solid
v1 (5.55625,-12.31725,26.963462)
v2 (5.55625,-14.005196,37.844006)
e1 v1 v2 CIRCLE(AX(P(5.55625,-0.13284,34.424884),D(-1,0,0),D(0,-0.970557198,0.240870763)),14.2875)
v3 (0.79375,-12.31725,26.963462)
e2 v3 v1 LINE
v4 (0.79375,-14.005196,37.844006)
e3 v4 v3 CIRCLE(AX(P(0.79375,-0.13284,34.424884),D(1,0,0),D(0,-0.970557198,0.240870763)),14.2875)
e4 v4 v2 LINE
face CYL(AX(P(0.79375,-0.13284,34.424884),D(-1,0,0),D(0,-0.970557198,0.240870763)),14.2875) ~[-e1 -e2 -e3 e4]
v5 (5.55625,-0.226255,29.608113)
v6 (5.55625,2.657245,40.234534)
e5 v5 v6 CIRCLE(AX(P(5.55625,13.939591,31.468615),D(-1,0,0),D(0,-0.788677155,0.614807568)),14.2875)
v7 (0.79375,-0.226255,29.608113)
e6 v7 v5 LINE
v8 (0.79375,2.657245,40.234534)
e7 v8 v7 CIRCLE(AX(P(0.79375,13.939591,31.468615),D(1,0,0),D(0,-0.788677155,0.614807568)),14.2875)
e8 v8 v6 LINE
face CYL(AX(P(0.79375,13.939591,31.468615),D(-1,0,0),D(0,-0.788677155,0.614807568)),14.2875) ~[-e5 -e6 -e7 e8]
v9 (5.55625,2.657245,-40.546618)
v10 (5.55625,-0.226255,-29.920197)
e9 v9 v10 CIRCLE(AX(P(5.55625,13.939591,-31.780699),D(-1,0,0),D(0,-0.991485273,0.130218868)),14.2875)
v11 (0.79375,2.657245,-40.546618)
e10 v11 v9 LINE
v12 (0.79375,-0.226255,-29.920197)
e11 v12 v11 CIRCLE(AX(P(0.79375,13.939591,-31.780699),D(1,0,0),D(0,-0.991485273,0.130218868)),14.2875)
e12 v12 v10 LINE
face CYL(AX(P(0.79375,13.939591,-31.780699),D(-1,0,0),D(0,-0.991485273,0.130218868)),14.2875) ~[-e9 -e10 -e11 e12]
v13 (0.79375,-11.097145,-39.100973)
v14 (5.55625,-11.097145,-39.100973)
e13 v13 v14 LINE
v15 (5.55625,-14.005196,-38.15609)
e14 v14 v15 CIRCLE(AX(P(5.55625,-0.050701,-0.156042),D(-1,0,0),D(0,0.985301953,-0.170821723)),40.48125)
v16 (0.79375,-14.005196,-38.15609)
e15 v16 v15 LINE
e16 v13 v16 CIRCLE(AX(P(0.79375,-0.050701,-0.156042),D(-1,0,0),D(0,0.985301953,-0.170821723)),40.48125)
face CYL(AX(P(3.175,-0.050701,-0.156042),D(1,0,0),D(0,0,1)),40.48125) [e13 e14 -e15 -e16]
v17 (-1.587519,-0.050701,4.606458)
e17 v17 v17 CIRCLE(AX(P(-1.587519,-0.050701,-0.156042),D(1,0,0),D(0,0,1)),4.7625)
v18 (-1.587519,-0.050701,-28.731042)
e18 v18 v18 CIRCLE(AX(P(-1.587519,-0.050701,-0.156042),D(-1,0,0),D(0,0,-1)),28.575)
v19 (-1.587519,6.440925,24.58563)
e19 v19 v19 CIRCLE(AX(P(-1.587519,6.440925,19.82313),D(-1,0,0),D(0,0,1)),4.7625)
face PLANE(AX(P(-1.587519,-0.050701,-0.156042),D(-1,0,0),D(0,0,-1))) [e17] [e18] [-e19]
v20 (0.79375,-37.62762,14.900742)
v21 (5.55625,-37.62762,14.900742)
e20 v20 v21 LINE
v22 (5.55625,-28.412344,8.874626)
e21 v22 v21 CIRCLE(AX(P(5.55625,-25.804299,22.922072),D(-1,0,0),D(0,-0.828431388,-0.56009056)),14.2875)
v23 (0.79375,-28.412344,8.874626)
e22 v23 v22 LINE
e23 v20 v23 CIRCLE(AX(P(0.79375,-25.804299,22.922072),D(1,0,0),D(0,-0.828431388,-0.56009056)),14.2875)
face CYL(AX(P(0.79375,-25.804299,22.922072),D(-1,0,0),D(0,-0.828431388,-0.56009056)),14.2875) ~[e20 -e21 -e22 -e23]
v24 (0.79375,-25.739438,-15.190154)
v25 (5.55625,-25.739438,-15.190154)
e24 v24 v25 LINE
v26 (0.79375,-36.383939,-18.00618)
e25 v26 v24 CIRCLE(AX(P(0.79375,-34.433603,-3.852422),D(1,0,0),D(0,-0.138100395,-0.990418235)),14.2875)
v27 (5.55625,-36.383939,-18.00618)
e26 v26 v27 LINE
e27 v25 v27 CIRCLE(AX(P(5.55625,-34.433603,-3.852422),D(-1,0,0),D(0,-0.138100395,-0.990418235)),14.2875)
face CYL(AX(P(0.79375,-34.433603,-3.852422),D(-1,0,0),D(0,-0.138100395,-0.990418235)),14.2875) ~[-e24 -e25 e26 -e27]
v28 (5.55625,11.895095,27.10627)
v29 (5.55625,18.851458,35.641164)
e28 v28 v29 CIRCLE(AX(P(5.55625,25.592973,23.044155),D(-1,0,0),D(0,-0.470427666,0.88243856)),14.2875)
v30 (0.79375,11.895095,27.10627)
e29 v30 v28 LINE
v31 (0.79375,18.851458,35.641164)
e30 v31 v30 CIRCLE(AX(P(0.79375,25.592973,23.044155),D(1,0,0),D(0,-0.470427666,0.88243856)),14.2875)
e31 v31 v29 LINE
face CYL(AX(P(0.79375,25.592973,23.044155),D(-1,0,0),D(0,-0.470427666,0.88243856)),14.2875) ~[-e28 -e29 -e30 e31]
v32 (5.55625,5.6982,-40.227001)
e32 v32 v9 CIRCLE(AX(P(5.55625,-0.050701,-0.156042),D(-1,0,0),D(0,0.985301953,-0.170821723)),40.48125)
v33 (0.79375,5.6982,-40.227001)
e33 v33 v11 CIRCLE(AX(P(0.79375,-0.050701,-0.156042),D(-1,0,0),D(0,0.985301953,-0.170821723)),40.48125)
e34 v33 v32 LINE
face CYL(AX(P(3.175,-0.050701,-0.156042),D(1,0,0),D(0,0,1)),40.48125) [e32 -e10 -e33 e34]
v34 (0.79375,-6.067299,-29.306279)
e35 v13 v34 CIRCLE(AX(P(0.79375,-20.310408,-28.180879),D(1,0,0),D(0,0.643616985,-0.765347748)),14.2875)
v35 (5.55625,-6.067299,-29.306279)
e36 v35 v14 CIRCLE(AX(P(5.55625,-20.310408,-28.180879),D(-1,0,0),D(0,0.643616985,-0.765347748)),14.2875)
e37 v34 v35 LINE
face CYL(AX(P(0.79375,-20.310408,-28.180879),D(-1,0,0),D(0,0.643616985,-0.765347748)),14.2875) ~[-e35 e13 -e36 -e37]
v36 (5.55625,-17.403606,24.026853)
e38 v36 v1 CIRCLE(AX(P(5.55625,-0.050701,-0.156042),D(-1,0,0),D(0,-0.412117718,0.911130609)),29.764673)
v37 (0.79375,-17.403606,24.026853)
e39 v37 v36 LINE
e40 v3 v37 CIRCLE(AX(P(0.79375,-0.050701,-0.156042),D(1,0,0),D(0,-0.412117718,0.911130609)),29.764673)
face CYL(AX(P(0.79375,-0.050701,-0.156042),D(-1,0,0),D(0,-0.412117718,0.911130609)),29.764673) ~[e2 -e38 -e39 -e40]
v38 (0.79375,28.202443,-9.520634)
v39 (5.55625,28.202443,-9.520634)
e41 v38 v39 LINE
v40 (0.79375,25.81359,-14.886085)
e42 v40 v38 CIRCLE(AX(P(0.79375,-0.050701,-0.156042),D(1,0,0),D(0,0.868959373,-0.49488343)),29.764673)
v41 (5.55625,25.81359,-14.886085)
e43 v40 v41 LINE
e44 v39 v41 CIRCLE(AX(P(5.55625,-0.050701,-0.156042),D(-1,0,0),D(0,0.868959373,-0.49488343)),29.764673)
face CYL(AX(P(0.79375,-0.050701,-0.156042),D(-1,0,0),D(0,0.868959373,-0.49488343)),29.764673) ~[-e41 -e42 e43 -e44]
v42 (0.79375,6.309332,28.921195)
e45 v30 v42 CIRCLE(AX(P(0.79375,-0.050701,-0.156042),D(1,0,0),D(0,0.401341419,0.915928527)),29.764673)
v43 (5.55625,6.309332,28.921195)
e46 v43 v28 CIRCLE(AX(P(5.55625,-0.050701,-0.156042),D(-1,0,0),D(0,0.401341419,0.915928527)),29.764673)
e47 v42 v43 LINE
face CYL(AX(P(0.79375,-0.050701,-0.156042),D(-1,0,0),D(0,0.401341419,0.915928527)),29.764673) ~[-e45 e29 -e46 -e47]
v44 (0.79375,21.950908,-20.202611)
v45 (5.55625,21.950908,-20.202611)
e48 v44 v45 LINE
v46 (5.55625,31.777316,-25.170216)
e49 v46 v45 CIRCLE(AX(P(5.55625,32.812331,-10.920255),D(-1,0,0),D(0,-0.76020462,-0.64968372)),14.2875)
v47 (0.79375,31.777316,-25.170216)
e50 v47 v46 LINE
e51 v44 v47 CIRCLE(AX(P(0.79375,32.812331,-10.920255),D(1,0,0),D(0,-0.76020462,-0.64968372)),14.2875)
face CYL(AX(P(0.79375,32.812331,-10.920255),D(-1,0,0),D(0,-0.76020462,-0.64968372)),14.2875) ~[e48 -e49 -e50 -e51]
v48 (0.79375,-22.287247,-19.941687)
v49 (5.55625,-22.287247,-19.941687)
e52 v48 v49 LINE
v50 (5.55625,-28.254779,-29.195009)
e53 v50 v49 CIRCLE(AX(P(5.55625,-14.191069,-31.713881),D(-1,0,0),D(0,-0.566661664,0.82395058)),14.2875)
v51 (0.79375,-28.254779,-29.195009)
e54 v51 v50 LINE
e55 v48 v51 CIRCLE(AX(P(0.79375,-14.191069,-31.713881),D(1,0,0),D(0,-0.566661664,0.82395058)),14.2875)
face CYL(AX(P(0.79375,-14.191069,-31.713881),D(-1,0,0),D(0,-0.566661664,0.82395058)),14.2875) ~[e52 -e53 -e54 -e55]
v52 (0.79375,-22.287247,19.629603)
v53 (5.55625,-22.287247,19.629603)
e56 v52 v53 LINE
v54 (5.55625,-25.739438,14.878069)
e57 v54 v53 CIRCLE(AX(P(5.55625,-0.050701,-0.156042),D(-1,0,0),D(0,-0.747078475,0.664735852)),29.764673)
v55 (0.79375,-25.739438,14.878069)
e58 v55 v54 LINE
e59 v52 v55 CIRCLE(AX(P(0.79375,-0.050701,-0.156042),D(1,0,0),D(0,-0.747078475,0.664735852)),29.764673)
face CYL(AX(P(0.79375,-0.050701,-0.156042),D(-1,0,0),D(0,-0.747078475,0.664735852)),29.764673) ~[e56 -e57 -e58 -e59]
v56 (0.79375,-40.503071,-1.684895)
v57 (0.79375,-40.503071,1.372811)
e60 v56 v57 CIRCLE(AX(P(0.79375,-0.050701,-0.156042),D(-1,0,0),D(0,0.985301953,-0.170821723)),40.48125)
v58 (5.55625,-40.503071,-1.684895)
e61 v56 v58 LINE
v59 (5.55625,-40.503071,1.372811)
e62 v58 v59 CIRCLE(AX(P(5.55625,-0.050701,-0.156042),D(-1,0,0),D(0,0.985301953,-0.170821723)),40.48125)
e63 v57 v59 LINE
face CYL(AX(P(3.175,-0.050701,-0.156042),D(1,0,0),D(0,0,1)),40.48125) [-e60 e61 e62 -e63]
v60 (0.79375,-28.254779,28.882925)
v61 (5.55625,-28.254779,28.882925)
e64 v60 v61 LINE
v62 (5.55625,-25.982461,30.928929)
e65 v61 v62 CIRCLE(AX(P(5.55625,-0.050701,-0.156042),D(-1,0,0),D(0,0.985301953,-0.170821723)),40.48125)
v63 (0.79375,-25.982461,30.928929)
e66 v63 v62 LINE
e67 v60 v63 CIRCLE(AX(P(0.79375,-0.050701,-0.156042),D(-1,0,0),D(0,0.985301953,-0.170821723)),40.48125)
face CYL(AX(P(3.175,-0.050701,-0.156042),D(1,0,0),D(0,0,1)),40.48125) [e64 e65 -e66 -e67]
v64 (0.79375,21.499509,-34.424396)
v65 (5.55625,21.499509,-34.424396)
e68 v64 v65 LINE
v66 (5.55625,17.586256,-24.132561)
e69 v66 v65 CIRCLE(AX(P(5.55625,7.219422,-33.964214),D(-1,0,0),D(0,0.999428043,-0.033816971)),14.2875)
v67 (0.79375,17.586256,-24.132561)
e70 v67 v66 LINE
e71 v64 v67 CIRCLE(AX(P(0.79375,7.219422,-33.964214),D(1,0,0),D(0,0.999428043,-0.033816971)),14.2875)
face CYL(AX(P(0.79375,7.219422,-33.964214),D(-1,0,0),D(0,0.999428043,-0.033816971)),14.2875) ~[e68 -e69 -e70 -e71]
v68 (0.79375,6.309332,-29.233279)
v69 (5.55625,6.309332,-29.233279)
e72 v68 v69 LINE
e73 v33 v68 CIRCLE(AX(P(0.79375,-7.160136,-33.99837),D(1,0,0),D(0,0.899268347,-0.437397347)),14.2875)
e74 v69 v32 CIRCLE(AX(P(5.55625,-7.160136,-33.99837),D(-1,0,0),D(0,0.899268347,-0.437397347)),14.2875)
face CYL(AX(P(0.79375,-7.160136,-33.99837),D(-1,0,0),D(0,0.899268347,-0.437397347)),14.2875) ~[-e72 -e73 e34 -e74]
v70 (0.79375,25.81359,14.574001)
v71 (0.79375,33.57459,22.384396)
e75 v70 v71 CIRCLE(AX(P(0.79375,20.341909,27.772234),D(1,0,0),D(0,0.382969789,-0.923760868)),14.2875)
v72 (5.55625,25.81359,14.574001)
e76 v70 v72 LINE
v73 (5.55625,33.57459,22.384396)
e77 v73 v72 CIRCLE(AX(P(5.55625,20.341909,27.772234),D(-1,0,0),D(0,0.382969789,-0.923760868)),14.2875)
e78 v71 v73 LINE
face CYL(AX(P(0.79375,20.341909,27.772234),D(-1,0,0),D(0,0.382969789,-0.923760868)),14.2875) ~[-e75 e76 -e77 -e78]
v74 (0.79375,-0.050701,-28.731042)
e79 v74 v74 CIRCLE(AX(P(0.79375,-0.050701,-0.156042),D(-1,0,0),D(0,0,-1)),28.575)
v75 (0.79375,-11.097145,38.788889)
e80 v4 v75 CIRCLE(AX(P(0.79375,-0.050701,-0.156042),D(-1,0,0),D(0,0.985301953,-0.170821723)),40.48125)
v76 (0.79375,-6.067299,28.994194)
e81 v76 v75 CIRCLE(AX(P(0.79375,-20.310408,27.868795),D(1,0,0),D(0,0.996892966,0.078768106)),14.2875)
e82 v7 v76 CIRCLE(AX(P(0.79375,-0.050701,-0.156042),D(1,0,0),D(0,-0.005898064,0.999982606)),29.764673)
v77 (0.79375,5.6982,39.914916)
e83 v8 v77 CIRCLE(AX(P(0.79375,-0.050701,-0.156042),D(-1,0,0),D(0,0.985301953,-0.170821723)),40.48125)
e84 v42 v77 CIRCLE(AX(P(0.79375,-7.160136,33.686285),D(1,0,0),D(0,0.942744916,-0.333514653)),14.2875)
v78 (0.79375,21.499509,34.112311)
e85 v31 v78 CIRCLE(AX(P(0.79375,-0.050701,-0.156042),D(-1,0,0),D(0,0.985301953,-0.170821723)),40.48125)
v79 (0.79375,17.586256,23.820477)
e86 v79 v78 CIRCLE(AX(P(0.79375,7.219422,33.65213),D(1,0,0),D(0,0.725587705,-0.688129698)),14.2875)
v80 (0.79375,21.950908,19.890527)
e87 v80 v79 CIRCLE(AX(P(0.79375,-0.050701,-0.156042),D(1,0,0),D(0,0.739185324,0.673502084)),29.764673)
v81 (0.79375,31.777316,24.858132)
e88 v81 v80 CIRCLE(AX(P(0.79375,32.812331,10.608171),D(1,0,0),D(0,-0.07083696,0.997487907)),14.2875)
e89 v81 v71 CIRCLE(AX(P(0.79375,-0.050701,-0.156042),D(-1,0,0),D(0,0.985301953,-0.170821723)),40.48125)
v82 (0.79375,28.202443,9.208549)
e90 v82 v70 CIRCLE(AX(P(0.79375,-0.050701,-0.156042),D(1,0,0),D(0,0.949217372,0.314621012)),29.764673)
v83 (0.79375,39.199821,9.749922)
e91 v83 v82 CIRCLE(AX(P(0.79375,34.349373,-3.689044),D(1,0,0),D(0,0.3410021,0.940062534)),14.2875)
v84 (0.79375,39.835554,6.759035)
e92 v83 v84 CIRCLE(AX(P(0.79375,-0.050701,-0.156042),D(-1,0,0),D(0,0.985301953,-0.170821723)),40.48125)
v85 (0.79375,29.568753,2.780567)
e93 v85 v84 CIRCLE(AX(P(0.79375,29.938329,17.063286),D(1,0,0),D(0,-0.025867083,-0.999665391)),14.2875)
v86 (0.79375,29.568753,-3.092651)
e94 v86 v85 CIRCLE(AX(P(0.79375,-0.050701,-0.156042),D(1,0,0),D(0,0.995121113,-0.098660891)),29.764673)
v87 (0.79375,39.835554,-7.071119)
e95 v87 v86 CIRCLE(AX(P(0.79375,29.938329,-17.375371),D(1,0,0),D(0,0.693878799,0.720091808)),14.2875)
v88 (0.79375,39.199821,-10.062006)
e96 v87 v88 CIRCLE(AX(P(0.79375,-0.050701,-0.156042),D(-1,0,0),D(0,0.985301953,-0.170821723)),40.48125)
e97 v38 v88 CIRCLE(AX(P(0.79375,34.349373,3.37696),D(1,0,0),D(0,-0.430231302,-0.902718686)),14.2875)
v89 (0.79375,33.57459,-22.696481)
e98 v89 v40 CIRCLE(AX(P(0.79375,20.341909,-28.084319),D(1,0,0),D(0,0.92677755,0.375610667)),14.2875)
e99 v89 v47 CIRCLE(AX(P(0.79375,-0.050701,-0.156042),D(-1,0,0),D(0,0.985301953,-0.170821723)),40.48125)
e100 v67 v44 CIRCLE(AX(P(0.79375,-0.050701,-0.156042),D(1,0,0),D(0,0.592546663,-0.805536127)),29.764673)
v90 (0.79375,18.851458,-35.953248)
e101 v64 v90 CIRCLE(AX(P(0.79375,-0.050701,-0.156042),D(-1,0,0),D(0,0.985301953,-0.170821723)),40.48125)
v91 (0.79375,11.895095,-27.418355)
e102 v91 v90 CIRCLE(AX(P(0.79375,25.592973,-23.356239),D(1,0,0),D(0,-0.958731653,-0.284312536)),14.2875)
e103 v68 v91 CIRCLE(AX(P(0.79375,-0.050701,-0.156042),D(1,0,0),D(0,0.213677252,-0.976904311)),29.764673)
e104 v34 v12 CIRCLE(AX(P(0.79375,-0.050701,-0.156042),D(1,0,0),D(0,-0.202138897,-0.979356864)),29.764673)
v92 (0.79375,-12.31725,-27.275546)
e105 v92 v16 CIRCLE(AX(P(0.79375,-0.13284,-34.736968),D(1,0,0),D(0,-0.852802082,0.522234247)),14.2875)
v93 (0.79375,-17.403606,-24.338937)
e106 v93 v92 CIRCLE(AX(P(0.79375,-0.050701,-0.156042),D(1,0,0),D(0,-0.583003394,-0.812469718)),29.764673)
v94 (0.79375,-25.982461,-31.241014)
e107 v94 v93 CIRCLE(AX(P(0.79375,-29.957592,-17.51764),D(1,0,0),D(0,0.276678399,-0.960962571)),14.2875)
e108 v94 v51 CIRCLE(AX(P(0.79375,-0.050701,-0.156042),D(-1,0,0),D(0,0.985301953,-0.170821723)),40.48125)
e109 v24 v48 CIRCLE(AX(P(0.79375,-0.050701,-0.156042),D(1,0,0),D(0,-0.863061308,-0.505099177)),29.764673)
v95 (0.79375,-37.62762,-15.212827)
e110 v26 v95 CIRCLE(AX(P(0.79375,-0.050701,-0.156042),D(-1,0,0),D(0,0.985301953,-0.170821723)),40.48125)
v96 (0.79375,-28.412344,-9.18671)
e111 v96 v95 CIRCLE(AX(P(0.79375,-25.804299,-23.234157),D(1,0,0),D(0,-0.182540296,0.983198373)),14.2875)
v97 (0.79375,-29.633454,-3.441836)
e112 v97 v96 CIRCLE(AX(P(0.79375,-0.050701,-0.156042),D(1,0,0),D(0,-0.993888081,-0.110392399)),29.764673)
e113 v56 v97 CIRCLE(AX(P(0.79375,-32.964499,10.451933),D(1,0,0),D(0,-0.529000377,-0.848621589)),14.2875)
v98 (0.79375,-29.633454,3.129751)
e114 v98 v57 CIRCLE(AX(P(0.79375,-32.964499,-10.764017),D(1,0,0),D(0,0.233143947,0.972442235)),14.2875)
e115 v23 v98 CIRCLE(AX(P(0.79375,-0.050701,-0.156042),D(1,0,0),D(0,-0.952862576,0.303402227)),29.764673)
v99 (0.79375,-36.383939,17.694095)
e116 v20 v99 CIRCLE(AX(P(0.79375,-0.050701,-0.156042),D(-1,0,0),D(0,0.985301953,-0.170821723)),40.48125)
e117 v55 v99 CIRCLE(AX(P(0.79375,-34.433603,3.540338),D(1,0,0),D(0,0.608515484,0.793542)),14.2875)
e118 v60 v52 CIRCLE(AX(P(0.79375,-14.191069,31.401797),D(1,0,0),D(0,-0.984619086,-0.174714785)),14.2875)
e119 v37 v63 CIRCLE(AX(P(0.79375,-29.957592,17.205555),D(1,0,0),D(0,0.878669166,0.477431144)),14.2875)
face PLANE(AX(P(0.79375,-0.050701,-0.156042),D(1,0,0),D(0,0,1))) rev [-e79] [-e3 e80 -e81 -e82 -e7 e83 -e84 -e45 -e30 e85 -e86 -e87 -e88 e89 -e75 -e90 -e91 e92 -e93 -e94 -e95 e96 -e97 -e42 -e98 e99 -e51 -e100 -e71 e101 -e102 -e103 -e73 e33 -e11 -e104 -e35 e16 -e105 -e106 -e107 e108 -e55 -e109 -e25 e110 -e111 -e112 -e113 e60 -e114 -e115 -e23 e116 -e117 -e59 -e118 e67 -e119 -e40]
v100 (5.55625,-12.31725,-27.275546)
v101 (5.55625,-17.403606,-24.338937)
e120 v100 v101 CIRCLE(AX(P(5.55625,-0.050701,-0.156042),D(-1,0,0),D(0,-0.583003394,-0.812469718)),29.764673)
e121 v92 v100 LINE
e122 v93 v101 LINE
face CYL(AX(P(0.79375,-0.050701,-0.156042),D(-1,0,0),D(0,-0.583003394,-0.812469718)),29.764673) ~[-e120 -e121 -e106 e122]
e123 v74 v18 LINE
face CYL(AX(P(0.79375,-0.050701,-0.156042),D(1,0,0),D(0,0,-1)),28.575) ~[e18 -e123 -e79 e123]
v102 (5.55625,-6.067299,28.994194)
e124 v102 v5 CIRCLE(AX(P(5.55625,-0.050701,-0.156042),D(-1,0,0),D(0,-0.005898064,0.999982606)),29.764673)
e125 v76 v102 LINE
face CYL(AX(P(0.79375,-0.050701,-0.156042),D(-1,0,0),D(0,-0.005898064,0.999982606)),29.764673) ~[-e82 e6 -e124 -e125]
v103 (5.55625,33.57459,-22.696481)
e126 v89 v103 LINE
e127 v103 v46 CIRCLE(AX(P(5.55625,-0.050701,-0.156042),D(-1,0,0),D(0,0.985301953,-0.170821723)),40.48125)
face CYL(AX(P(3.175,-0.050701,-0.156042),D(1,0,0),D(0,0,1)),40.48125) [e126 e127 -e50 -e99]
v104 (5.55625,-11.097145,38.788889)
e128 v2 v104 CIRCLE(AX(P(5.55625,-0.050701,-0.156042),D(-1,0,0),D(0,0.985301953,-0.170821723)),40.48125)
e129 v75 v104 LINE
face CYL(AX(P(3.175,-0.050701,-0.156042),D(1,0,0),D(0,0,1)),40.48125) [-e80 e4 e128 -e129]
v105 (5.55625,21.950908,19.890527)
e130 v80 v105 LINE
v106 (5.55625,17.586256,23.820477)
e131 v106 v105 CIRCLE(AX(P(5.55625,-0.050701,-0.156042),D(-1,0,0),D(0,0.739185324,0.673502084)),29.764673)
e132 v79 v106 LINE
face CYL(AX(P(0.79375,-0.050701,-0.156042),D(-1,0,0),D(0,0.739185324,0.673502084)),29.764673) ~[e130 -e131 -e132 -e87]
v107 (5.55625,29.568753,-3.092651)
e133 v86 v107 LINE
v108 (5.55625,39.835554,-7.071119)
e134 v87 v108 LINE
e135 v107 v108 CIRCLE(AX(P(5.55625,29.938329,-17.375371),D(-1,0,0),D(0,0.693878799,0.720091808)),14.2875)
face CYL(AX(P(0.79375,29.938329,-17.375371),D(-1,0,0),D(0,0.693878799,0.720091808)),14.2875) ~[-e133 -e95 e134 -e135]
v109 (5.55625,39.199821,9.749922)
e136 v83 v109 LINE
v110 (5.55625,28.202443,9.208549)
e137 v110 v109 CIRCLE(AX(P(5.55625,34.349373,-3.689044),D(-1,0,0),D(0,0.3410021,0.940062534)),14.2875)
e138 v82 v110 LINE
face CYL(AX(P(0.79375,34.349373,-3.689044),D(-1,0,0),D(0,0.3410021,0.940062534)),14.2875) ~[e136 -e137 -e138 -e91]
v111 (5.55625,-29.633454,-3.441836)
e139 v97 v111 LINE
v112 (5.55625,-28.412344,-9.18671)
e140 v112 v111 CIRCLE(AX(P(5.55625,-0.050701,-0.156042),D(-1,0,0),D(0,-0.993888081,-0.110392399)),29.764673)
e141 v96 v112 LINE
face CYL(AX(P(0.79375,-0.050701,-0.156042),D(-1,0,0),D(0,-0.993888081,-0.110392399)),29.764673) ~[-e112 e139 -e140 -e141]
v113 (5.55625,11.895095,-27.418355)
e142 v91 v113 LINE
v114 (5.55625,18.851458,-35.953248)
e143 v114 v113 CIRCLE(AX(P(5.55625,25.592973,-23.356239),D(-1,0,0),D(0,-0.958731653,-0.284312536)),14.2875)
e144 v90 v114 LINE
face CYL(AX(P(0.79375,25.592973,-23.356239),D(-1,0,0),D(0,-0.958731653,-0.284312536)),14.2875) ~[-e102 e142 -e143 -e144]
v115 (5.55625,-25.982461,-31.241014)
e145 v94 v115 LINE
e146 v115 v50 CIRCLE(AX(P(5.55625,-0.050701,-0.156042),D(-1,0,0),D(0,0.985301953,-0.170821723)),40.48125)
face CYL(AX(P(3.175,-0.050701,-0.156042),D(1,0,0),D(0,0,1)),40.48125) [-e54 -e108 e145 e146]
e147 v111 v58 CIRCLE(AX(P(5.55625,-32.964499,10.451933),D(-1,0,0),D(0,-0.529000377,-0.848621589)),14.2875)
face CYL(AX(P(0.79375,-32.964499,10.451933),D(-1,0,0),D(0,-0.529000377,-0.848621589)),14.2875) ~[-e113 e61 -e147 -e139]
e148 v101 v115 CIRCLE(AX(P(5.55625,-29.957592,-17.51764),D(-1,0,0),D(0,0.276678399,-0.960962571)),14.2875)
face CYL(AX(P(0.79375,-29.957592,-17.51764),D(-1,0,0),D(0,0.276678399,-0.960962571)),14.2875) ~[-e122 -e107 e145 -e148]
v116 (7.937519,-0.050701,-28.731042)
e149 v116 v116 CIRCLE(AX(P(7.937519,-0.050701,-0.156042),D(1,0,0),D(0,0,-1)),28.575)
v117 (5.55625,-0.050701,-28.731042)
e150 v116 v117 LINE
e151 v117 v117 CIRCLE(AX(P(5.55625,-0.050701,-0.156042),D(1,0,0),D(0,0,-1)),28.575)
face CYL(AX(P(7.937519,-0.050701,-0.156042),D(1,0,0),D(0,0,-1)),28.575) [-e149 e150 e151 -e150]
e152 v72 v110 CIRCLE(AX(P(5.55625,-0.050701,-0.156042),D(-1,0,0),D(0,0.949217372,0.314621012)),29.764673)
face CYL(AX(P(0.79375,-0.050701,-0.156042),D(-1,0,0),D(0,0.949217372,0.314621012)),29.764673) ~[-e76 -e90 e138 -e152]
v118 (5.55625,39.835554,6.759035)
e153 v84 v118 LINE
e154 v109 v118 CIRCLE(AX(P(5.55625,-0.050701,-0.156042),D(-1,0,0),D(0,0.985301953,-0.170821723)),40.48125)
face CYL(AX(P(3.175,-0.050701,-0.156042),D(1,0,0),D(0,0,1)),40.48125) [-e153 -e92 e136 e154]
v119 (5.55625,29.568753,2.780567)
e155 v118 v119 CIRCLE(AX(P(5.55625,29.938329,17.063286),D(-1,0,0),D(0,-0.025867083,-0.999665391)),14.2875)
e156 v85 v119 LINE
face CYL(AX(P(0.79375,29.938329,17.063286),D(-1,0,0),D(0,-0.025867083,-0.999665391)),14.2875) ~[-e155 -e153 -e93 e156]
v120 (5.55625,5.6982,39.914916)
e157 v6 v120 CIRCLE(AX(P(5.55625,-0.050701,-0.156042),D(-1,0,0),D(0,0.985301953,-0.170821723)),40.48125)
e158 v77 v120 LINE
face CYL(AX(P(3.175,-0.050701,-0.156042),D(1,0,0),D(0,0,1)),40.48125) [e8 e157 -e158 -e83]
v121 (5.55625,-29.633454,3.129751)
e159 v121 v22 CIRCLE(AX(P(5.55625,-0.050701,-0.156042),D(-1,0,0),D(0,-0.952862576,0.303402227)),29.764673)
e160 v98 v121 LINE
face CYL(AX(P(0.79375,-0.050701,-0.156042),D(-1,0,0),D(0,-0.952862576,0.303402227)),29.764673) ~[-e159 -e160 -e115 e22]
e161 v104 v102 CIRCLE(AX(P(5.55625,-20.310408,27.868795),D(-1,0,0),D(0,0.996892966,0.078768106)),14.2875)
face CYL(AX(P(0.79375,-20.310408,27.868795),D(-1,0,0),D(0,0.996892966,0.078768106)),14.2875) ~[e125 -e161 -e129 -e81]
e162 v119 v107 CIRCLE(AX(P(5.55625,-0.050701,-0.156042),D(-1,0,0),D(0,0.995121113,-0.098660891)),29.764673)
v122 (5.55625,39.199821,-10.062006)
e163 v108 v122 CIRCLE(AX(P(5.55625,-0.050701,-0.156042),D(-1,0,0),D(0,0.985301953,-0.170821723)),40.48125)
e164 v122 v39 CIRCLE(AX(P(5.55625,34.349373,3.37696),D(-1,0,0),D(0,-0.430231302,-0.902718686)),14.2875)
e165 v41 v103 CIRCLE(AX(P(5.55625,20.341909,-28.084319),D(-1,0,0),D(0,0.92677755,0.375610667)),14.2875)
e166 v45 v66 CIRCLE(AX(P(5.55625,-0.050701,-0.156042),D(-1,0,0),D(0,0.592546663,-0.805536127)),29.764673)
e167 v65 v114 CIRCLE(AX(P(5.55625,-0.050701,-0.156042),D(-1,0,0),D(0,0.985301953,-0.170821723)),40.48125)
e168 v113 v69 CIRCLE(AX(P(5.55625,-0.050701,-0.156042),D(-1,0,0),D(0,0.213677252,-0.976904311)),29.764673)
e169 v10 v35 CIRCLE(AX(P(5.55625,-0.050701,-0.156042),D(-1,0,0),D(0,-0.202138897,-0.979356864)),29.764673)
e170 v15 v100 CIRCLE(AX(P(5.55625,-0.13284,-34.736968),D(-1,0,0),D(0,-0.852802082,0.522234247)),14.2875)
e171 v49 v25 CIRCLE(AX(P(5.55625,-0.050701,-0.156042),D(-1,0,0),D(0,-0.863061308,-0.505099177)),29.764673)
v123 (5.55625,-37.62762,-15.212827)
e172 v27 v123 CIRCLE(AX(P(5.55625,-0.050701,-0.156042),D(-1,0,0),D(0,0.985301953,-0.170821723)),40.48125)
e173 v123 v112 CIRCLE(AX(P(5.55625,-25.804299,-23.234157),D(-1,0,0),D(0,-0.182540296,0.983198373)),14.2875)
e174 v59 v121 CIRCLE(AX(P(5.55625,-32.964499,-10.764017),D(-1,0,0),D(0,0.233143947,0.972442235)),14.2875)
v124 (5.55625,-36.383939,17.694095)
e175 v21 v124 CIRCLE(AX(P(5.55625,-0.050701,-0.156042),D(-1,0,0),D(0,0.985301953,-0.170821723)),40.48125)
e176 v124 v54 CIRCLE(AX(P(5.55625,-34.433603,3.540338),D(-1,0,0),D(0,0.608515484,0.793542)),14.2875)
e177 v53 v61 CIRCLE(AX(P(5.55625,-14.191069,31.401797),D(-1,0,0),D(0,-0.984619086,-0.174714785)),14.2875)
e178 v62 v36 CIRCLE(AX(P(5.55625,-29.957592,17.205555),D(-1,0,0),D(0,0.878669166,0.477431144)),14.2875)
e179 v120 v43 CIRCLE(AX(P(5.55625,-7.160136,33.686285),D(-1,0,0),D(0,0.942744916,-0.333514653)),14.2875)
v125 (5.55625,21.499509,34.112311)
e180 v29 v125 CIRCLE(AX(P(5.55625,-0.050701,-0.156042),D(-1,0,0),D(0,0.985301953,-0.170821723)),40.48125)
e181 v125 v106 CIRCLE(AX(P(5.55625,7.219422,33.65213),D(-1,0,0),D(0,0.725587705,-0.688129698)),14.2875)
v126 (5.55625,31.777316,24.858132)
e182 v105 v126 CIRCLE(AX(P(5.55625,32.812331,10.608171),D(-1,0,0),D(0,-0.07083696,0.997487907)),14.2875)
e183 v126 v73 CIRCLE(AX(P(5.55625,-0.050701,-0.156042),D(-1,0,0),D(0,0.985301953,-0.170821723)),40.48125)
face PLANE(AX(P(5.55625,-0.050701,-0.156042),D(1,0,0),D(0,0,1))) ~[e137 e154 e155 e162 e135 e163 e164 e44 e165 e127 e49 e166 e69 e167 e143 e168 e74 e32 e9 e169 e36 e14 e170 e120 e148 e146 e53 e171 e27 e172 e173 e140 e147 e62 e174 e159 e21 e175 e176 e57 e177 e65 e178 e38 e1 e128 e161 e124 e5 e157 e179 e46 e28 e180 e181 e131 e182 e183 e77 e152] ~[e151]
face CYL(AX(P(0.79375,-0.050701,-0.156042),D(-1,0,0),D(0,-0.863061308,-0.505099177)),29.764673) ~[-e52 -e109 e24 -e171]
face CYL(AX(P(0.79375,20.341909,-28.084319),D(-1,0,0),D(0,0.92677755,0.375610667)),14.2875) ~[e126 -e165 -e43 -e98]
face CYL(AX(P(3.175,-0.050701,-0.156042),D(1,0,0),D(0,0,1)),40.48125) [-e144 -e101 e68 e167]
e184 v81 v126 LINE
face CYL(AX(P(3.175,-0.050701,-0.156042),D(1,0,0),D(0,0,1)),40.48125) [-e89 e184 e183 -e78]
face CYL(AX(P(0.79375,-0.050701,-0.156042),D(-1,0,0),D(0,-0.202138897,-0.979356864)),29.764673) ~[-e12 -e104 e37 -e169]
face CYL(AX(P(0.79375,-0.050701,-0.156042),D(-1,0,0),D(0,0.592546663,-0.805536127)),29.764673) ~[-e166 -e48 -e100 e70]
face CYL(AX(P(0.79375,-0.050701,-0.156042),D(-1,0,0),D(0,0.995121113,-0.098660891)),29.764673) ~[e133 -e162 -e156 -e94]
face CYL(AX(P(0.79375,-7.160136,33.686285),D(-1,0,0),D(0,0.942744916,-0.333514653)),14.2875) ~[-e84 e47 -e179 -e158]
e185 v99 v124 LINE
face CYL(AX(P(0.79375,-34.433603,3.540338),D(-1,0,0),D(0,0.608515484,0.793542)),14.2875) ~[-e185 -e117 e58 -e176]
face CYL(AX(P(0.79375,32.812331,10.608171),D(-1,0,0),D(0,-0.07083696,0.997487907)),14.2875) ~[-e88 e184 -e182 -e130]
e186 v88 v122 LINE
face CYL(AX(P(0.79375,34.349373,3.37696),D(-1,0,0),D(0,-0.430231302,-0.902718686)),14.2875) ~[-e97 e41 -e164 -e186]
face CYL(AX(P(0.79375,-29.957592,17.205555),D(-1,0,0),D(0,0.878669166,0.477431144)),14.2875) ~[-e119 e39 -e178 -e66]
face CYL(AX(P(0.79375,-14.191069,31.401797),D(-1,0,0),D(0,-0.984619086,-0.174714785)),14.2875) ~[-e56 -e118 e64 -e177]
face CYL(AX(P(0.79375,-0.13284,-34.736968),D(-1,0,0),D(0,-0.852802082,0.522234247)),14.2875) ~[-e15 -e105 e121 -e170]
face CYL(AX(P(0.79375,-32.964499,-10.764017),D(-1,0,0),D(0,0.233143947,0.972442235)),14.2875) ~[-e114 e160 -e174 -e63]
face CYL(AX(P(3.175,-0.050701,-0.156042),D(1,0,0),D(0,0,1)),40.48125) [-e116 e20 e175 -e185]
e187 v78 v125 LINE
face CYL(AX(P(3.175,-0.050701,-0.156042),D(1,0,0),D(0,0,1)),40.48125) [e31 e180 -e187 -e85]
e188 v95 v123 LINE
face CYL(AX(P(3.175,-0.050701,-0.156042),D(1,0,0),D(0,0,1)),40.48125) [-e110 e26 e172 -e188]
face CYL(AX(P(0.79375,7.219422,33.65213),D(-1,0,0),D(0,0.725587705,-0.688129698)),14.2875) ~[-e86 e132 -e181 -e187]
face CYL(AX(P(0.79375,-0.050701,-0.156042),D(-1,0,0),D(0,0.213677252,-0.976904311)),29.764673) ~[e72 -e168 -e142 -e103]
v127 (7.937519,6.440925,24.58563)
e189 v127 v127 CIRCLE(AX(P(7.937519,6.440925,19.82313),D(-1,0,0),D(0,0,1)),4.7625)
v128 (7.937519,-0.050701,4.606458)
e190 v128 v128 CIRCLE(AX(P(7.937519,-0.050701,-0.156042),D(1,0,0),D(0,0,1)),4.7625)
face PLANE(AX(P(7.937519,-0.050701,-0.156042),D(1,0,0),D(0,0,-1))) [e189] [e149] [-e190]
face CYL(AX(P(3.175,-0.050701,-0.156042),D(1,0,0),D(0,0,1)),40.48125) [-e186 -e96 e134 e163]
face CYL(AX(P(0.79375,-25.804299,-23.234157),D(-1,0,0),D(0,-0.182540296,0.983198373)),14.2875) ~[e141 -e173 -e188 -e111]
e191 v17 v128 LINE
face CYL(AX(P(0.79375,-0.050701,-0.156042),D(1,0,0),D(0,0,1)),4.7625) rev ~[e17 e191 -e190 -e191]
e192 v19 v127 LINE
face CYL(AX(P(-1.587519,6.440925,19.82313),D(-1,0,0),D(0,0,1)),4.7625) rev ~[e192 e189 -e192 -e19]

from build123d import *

# Parameters (mm, degrees)
BASPROSKE_W        = 6.35
BASPROSKE_H        = 53.975
TOOTHCUT_DEPTH     = 77.59584682
TEETHCUTS_COUNT    = 15
TEETHCUTS_ANGLE    = 336
HUBNEABOTSKE_R     = 38.1
HUBNEARBOTH_DEPTH  = 3.1750254
HUBFAR_START       = 3.1750254
HUBFARSKE_R        = 38.1
HUBFAR_DEPTH       = 3.1750254
BORSKE_R           = 6.35
BORE_DEPTH         = 12.7000508
SKETCH1_R          = 6.35
CUT_EXTRUDE1_DEPTH = 78.297193623
SCALE1_SCALE       = 0.75


with BuildPart() as part:
    # BasProSke → Base-Revolve (revolve)
    with BuildSketch(Plane(origin=(0, 0, 0), x_dir=(1, 0, 0), z_dir=(0, 1, 0)), mode=Mode.PRIVATE) as base_revolve_sk:
        with Locations((3.175, 26.9875)):
            Rectangle(BASPROSKE_W, BASPROSKE_H)
    revolve(base_revolve_sk.sketch.rotate(Axis((-10, 0, 0), (1, 0, 0)), 180), axis=Axis((-10, 0, 0), (1, 0, 0)))

    # TooCutSke → ToothCut (cut, through all)
    with BuildSketch(Plane(origin=(0, 0, 0), x_dir=(0, 0, -1), z_dir=(1, 0, 0))):
        with BuildLine():
            ThreePointArc((3.91547882, 39.492605349), (0, 39.68623), (-3.91547882, 39.492605349))
            ThreePointArc((-3.91547882, 39.492605349), (-5.201686692, 46.882953453), (-9.241355572, 53.20376441))
            ThreePointArc((-9.241355572, 53.20376441), (0, 54.0004), (9.241355572, 53.20376441))
            ThreePointArc((9.241355572, 53.20376441), (5.201686692, 46.882953453), (3.91547882, 39.492605349))
        make_face()
    toothcut = extrude(amount=TOOTHCUT_DEPTH, mode=Mode.SUBTRACT)

    # TeethCuts: ToothCut ×15 about axis
    teethcuts_axis = Axis((-10, 0, 0), (1, 0, 0))
    for i in range(1, TEETHCUTS_COUNT):
        add(toothcut.rotate(teethcuts_axis, i * TEETHCUTS_ANGLE / (TEETHCUTS_COUNT - 1)), mode=Mode.SUBTRACT)

    # HubNeaBotSke → HubNearBoth (add)
    with BuildSketch(Plane.ZY):
        with Locations(Location((0, 0, 0), (0, 0, 180))):
            Circle(HUBNEABOTSKE_R)
    extrude(amount=HUBNEARBOTH_DEPTH)

    # HubFarSke → HubFar (add)
    with BuildSketch(Plane(origin=(6.35, 0, 0), x_dir=(0, 0, -1), z_dir=(1, 0, 0)).offset(HUBFAR_START)):
        Circle(HUBFARSKE_R)
    extrude(amount=-HUBFAR_DEPTH)

    # BorSke → Bore (cut, symmetric)
    with BuildSketch(Plane(origin=(0, 0, 0), x_dir=(0, 0, -1), z_dir=(1, 0, 0))):
        with Locations(Location((0, 0, 0), (0, 0, 180))):
            Circle(BORSKE_R)
    extrude(amount=BORE_DEPTH, both=True, mode=Mode.SUBTRACT)

    # Sketch1 → Cut-Extrude1 (cut, through all)
    with BuildSketch(Plane.ZY.offset(3.1750254)):
        with Locations((26.638896337, 8.655502106)):
            Circle(SKETCH1_R)
    extrude(amount=-CUT_EXTRUDE1_DEPTH, mode=Mode.SUBTRACT)


with BuildPart() as part_1:
    # Scale1: scaled about (3.175, -0.202804759, -0.624168867)
    add(part.part.scale(SCALE1_SCALE).moved(Location((0.79375, -0.05070119, -0.156042217))))


solid = part_1.part
